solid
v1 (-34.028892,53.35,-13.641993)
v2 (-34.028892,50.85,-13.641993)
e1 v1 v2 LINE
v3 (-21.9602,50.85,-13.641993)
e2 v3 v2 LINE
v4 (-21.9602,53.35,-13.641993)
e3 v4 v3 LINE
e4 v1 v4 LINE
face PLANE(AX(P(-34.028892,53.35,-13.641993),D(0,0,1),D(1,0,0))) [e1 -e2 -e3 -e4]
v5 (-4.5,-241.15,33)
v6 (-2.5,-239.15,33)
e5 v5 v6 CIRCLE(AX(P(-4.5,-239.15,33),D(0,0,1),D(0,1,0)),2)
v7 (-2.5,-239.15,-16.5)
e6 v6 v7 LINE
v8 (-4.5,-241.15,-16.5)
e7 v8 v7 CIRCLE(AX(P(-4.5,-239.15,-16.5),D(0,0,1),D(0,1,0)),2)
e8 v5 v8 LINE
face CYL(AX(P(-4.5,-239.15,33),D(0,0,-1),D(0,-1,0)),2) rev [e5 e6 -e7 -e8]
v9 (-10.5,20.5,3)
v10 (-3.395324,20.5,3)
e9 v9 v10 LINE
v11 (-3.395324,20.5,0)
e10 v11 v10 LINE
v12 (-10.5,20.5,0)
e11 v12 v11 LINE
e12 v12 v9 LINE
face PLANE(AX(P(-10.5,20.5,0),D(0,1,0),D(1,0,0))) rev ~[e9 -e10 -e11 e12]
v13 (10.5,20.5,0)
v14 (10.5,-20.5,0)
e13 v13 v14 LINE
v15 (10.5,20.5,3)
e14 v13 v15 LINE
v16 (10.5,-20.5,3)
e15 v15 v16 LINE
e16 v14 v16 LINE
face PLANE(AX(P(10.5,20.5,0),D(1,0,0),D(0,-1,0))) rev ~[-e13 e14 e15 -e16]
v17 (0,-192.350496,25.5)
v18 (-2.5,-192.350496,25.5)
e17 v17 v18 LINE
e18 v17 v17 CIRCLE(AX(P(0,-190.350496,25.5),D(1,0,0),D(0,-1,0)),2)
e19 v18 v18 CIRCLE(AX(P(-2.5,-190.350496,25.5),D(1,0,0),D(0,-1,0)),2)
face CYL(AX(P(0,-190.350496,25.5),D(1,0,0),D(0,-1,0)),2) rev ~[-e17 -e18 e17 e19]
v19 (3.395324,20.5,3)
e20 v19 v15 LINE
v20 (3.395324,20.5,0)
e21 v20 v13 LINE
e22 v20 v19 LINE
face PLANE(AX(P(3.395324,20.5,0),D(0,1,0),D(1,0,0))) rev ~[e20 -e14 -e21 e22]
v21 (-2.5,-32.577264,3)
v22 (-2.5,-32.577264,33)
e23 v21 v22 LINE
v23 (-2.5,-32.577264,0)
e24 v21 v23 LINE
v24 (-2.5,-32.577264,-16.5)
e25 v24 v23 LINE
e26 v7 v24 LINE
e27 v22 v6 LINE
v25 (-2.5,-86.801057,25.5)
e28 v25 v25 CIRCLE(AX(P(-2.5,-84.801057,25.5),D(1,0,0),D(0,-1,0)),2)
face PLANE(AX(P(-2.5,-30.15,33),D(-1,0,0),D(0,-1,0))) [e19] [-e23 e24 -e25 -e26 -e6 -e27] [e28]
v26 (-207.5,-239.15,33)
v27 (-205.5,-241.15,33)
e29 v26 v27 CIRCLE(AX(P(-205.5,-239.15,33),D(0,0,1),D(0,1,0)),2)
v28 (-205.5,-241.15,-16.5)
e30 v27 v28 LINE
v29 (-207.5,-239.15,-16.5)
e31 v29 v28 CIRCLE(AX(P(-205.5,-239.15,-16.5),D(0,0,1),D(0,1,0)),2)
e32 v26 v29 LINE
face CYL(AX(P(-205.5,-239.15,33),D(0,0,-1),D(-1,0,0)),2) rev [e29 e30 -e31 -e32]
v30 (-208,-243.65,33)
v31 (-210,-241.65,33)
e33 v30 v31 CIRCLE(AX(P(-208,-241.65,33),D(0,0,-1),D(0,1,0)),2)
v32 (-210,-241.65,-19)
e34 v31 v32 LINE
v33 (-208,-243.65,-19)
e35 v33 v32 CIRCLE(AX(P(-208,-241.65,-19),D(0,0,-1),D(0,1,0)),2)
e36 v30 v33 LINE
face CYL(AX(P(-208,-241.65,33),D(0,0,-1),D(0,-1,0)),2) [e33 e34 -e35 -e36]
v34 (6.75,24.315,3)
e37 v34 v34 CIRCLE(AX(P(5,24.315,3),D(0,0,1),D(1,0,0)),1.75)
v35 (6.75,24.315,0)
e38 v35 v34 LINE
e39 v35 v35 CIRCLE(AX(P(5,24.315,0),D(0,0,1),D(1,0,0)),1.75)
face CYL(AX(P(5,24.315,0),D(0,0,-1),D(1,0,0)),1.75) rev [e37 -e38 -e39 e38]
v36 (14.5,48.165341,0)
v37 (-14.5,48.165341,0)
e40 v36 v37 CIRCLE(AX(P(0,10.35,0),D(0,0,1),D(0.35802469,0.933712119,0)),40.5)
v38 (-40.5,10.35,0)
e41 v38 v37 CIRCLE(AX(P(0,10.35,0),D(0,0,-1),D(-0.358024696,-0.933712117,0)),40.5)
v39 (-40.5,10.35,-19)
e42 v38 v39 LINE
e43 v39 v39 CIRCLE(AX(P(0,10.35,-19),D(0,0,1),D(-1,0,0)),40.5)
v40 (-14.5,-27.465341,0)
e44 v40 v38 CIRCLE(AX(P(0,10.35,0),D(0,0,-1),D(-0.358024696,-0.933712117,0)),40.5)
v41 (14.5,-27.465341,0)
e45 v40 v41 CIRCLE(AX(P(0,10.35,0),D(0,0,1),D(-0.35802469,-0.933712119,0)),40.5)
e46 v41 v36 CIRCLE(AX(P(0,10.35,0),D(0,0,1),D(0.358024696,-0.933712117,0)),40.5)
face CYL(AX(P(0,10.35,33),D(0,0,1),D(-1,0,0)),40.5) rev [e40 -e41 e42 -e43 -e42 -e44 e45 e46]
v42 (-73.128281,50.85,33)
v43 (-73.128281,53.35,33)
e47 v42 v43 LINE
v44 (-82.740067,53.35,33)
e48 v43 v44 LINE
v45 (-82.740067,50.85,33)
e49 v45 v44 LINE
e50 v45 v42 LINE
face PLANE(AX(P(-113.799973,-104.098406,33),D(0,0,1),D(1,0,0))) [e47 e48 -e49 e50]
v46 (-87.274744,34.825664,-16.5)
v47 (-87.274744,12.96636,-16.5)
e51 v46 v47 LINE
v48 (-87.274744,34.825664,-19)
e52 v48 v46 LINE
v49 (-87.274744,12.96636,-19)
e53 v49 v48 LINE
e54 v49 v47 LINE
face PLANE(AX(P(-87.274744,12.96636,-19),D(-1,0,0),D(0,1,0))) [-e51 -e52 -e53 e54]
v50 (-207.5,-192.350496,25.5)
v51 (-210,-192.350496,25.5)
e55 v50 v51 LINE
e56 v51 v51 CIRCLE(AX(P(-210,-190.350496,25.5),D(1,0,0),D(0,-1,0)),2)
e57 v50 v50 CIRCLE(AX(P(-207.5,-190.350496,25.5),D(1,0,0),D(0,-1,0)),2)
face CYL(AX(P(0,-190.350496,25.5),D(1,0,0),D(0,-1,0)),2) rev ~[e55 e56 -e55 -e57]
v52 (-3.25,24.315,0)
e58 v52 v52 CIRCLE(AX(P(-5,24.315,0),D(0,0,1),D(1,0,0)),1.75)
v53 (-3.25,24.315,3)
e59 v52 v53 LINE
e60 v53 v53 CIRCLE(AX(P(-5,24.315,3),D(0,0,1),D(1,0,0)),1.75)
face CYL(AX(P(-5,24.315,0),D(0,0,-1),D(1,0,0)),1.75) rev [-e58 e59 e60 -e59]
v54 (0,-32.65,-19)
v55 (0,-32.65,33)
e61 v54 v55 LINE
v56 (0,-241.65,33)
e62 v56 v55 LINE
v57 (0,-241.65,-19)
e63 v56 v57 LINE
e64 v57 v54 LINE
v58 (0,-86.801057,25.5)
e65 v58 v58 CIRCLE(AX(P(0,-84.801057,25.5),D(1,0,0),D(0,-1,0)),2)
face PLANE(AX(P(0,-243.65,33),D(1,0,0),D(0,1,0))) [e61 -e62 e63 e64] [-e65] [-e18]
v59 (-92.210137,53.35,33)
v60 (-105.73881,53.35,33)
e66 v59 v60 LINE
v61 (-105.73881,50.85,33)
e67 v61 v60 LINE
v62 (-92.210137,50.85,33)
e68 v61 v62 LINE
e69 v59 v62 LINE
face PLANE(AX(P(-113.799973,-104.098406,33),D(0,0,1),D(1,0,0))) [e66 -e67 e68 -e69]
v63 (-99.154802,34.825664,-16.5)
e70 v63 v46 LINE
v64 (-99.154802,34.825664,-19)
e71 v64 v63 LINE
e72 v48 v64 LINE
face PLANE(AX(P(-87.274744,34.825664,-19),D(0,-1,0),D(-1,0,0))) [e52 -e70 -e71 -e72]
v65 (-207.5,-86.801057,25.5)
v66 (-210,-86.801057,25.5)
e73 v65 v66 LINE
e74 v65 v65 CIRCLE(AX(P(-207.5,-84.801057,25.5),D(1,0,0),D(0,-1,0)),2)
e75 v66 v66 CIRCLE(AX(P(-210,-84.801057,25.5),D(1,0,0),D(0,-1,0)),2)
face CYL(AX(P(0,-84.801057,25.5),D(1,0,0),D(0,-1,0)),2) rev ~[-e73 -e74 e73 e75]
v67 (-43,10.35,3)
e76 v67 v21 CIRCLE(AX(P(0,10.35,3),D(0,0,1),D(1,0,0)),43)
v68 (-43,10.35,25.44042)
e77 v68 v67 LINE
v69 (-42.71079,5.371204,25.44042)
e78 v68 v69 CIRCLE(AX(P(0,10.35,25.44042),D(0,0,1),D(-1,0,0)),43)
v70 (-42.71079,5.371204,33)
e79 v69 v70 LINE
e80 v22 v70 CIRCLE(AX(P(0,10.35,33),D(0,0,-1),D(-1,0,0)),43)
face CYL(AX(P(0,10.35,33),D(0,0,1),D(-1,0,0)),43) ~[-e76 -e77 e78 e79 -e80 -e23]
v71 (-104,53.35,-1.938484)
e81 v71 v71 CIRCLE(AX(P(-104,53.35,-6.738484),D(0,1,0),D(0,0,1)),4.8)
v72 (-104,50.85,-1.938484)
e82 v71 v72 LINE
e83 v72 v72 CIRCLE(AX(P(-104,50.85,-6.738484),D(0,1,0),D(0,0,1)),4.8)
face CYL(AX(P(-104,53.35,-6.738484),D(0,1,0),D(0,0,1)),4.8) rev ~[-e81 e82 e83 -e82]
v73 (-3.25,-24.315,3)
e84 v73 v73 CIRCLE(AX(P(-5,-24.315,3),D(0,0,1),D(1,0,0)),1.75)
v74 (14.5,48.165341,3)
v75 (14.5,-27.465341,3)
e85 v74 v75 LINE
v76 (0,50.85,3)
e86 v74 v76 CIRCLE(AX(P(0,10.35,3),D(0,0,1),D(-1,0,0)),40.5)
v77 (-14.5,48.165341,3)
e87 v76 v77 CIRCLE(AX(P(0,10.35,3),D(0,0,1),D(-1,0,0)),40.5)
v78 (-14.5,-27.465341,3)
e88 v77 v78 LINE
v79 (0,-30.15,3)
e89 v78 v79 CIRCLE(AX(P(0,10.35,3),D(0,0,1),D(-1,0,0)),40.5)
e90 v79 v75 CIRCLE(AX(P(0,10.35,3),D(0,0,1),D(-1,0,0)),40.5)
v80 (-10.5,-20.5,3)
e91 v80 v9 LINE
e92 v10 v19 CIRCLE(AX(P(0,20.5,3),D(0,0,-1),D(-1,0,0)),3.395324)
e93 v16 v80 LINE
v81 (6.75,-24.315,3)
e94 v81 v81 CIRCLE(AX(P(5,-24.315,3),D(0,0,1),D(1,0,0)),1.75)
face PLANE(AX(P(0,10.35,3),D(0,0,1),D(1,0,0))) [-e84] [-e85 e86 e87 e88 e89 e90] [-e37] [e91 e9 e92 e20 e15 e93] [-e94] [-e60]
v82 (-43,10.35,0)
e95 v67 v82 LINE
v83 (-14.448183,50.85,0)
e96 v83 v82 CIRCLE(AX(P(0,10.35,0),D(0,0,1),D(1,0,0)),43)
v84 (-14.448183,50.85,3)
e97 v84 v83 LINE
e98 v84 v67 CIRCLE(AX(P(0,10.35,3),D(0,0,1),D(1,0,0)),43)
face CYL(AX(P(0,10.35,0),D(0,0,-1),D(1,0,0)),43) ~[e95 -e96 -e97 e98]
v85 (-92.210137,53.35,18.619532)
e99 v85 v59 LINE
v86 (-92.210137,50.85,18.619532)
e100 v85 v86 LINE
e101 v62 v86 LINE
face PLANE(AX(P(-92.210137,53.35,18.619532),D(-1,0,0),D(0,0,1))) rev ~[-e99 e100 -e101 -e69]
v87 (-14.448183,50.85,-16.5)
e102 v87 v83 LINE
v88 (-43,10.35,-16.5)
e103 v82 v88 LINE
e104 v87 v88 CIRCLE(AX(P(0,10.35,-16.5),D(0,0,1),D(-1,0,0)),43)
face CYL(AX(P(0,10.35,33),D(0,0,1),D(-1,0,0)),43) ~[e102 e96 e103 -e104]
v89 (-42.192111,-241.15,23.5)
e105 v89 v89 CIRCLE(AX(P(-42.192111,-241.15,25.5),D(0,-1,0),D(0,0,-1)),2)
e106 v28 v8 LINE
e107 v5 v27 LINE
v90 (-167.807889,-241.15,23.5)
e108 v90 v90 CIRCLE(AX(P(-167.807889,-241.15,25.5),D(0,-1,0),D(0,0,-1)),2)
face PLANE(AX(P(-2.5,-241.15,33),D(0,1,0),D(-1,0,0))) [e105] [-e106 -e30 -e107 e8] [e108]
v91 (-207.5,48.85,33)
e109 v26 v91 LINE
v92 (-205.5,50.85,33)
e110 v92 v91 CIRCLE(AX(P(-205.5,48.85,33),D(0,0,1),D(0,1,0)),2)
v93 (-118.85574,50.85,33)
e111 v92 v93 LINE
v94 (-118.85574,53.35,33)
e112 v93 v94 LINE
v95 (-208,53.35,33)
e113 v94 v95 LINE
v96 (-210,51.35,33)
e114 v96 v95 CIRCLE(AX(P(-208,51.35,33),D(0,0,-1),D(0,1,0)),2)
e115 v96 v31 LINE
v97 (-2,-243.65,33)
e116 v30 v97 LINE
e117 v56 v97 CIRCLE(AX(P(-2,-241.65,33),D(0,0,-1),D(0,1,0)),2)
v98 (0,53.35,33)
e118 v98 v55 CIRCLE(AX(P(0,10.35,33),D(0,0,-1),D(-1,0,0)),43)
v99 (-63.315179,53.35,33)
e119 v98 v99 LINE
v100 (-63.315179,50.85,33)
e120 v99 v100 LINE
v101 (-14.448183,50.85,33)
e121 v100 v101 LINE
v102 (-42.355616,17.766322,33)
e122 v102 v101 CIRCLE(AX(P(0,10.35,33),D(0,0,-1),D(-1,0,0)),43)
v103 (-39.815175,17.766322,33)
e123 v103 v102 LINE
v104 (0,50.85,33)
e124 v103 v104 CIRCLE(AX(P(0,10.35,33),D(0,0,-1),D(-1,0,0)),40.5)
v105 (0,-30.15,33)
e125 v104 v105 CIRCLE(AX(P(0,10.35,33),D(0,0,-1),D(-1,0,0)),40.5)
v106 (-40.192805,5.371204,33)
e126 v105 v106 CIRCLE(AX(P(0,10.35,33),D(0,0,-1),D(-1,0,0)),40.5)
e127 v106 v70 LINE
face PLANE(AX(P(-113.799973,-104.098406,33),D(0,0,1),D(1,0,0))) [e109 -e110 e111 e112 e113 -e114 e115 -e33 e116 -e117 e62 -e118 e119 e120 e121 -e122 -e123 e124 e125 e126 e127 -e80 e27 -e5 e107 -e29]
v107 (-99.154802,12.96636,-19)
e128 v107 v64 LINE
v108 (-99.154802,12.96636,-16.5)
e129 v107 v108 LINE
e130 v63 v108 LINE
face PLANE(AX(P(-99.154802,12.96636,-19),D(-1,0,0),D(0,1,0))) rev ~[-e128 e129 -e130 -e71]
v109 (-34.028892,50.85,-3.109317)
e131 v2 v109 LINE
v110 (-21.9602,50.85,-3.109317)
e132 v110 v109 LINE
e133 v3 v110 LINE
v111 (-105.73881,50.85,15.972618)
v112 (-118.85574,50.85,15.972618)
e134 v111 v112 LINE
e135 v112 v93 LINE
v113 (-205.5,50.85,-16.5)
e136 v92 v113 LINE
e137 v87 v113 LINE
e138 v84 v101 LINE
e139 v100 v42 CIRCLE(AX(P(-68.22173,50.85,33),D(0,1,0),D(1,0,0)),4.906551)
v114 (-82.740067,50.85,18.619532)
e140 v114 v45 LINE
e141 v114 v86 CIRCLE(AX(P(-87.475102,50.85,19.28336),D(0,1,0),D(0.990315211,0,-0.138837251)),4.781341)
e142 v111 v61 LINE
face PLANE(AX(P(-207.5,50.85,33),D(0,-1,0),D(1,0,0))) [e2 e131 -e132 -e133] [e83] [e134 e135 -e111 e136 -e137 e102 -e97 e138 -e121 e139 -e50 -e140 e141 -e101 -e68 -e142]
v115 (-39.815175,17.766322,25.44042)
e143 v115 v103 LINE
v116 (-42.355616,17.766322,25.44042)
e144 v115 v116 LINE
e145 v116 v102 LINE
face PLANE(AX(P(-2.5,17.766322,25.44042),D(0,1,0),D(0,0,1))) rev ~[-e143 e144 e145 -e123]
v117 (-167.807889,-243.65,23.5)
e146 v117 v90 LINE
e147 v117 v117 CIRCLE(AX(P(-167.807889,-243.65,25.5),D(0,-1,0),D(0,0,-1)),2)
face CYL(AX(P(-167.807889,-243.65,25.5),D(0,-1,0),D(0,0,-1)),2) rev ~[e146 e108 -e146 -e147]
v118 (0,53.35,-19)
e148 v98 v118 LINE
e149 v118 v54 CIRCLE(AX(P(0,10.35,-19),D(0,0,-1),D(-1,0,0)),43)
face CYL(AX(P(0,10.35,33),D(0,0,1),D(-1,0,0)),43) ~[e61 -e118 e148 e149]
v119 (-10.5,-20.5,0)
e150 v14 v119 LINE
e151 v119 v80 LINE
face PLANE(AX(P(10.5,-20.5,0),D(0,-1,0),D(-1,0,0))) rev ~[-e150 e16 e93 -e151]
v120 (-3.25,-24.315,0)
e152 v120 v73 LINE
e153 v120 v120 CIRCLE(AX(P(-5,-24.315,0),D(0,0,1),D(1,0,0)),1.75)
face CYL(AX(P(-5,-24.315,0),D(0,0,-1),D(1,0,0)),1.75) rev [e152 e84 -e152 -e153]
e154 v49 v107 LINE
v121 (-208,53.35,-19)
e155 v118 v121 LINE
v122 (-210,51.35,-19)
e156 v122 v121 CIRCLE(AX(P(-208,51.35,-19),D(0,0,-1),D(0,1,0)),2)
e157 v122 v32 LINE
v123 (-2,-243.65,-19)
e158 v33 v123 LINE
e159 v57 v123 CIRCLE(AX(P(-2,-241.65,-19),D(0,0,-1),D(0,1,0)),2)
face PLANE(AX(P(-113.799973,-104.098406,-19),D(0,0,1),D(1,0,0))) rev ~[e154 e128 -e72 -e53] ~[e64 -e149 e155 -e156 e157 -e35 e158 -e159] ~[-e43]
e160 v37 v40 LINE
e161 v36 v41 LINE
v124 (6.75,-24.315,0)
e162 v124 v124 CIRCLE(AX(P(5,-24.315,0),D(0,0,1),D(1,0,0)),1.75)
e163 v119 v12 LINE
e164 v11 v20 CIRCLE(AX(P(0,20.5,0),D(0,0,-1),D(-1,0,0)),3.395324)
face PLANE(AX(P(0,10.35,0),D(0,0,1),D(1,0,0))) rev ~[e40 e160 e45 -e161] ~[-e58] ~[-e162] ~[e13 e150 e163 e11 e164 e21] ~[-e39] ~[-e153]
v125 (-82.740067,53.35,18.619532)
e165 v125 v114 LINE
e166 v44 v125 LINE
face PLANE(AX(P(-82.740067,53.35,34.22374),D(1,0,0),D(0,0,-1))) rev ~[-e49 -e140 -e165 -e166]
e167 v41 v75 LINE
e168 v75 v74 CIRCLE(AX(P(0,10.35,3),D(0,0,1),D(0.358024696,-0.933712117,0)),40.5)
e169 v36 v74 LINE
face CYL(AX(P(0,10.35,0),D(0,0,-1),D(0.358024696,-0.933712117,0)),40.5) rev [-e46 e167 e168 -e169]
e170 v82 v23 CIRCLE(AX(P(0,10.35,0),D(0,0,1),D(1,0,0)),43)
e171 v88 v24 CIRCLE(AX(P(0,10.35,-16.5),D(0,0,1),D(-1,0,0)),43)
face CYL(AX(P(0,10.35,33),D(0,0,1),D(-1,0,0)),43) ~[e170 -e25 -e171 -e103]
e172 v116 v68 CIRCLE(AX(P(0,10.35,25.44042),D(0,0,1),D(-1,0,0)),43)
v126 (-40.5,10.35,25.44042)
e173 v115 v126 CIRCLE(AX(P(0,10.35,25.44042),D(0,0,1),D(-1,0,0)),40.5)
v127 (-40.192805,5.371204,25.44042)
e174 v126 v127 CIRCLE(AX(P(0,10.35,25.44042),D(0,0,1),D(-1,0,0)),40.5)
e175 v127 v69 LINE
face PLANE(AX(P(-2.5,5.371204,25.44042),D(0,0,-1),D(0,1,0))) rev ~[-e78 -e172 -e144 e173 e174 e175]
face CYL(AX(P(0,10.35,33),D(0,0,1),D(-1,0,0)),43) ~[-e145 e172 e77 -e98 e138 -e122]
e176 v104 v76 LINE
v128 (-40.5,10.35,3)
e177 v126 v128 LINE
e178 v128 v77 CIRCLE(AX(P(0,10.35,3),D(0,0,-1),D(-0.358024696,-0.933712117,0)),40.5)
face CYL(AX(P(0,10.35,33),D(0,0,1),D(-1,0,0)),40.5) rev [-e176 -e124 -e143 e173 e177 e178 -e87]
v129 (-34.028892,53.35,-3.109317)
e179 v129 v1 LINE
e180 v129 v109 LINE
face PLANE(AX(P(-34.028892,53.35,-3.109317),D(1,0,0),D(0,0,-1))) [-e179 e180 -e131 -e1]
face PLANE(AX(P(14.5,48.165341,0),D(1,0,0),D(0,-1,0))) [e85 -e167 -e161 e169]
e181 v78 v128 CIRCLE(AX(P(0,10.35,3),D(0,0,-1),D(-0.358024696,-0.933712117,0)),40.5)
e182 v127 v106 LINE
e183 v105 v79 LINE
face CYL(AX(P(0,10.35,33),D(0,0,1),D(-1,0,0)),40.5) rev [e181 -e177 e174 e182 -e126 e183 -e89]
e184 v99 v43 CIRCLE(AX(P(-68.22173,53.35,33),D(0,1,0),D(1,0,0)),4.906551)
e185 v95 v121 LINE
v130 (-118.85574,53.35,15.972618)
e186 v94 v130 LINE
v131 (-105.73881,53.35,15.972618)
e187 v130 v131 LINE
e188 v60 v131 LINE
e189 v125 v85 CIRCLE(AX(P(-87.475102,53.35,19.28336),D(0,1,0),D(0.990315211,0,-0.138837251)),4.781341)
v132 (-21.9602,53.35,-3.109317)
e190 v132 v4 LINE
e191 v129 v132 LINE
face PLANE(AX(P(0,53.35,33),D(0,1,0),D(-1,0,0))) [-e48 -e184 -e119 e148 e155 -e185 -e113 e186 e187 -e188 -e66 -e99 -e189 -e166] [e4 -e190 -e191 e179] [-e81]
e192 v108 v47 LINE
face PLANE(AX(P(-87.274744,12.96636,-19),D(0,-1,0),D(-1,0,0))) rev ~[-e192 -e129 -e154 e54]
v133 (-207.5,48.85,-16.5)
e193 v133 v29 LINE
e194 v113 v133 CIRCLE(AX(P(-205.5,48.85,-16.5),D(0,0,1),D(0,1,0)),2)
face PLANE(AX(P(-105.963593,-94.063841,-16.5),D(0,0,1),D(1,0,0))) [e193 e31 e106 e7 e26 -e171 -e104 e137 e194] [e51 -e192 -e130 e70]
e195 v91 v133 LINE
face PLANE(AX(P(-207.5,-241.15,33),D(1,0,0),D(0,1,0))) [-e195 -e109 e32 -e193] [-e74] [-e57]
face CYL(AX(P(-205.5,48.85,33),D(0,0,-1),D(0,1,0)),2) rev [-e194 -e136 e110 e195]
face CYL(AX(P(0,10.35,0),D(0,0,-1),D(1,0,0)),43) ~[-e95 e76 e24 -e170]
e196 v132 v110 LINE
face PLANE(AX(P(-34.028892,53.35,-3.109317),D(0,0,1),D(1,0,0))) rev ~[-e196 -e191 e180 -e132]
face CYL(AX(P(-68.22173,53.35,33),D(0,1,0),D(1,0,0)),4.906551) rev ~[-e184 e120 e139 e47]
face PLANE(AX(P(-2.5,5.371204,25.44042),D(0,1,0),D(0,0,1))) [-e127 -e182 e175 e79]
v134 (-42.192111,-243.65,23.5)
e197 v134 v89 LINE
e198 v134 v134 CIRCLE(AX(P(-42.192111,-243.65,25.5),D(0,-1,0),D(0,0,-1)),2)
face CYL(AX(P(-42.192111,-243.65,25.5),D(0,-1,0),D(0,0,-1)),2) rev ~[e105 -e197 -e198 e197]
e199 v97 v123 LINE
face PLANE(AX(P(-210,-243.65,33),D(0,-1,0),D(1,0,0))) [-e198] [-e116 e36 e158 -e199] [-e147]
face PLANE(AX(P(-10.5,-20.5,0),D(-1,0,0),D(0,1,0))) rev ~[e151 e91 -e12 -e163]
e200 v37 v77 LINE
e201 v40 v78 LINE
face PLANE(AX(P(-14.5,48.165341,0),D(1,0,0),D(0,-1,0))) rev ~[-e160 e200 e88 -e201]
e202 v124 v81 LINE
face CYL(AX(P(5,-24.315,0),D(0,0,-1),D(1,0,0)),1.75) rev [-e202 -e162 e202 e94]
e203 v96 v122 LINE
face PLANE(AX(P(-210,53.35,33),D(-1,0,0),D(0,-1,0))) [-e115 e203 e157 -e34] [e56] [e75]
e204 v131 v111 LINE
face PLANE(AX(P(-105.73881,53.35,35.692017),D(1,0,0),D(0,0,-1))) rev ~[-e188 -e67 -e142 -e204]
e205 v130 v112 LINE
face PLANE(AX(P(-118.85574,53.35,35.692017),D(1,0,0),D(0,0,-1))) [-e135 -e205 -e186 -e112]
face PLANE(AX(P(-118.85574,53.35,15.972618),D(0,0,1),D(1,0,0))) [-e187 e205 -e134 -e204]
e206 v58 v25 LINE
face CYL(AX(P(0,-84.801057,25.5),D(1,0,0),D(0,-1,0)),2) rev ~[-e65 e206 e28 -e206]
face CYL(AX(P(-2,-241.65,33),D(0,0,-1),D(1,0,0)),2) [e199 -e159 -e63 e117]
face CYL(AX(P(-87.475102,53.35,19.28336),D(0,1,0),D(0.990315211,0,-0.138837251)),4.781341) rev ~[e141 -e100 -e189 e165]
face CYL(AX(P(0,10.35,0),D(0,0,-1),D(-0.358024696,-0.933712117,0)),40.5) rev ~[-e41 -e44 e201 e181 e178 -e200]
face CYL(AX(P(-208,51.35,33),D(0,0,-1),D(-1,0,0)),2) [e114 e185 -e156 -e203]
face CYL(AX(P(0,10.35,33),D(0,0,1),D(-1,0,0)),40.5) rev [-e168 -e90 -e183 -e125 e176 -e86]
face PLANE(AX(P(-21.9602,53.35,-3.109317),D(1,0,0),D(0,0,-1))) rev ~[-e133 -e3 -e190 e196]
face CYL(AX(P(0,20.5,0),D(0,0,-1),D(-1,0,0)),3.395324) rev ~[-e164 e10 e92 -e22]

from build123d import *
from build123d.topology import SkipClean

# Parameters (mm, degrees)
SKETCH_1_R             = 43
SKETCH_1_R_2           = 1.75
EXTRUDE_1_DEPTH        = 3
EXTRUDE_1_2_DEPTH      = 19
EXTRUDE_1_2_DEPTH_BACK = 33
SKETCH_3_R             = 43
SKETCH_3_R_2           = 40.5
EXTRUDE_START          = -52
EXTRUDE_2_DEPTH        = 52
EXTRUDE_2_2_DEPTH      = 2.5
FILLET_1_R             = 2
SKETCH_6_W             = 12.068691
SKETCH_6_H             = 10.532676
CUT_EXTRUDE_1_DEPTH    = 3
SKETCH_7_R             = 2
CUT_EXTRUDE_2_DEPTH    = 283
SKETCH_8_R             = 2
CUT_EXTRUDE_3_DEPTH    = 10
SKETCH_9_W             = 13.11693
SKETCH_9_H             = 19.719399
CUT_EXTRUDE_4_DEPTH    = 10
SKETCH_10_W            = 7.55958
SKETCH_10_H            = 12.395118
CUT_EXTRUDE_5_DEPTH    = 61
SKETCH_11_W            = 11.880057
SKETCH_11_H            = 21.859304
CUT_EXTRUDE_6_DEPTH    = 61
SKETCH_12_R            = 4.8
CUT_EXTRUDE_7_DEPTH    = 10
SKETCH_13_R            = 4.906551
CUT_EXTRUDE_8_DEPTH    = 10


with BuildPart() as part:
    # 草图1 → Extrude 1 (new body)
    with BuildSketch(Plane.XY):
        with Locations((0, 10.35)):
            Circle(SKETCH_1_R)
        with Locations((-5, 24.315)):
            Circle(SKETCH_1_R_2, mode=Mode.SUBTRACT)
        with Locations((5, 24.315)):
            Circle(SKETCH_1_R_2, mode=Mode.SUBTRACT)
        with Locations((-5, -24.315)):
            Circle(SKETCH_1_R_2, mode=Mode.SUBTRACT)
        with Locations((5, -24.315)):
            Circle(SKETCH_1_R_2, mode=Mode.SUBTRACT)
        with BuildLine():
            Line((3.395324, 20.5), (10.5, 20.5))
            Line((10.5, 20.5), (10.5, -20.5))
            Line((10.5, -20.5), (-10.5, -20.5))
            Line((-10.5, -20.5), (-10.5, 20.5))
            Line((-10.5, 20.5), (-3.395324, 20.5))
            ThreePointArc((-3.395324, 20.5), (0, 23.895324), (3.395324, 20.5))
        make_face(mode=Mode.SUBTRACT)
        with BuildLine():
            Line((-14.5, 48.165341), (-14.5, -27.465341))
            ThreePointArc((-14.5, -27.465341), (-40.5, 10.35), (-14.5, 48.165341))
        make_face(mode=Mode.SUBTRACT)
        with BuildLine():
            Line((14.5, 48.165341), (14.5, -27.465341))
            ThreePointArc((14.5, -27.465341), (40.5, 10.35), (14.5, 48.165341))
        make_face(mode=Mode.SUBTRACT)
    extrude(amount=EXTRUDE_1_DEPTH)

    # 草图3 → Extrude 1 2 (add, two sides: drawn at the far end of the back side and taken through both)
    with SkipClean():  # the faces are left unmerged after this step: merging them gives an invalid solid
        with BuildSketch(Plane(origin=(0, 0, 0), x_dir=(-1, 0, 0), z_dir=(0, 0, -1)).offset(-EXTRUDE_1_2_DEPTH_BACK)):
            with Locations((0, 10.35)):
                Circle(SKETCH_3_R)
            with Locations((0, 10.35)):
                Circle(SKETCH_3_R_2, mode=Mode.SUBTRACT)
        extrude(amount=EXTRUDE_1_2_DEPTH + EXTRUDE_1_2_DEPTH_BACK)

    # 草图4 → Extrude 2 (add)
    with SkipClean():  # the faces are left unmerged after this step: merging them gives an invalid solid
        with BuildSketch(Plane(origin=(0, 0, -19), x_dir=(-1, 0, 0), z_dir=(0, 0, -1)).offset(EXTRUDE_START)):
            Polygon((0, 53.35), (210, 53.35), (210, -243.65), (0, -243.65), (0, -30.15), (2.5, -30.15), (2.5, -241.15), (207.5, -241.15), (207.5, 50.85), (0, 50.85), align=None)
        extrude(amount=EXTRUDE_2_DEPTH)

    # 草图5 → Extrude 2 2 (add)
    with SkipClean():  # the faces are left unmerged after this step: merging them gives an invalid solid
        with BuildSketch(Plane(origin=(0, 0, -19), x_dir=(-1, 0, 0), z_dir=(0, 0, -1))):
            with BuildLine():
                Line((2.5, -241.15), (2.5, -32.577264))
                ThreePointArc((2.5, -32.577264), (42.565682, 4.25388), (14.448183, 50.85))
                Line((14.448183, 50.85), (207.5, 50.85))
                Line((207.5, 50.85), (207.5, -241.15))
                Line((207.5, -241.15), (2.5, -241.15))
            make_face()
        extrude(amount=-EXTRUDE_2_2_DEPTH)

    # 圆角1
    fillet_1_edges = [part.edges().sort_by_distance(p)[0] for p in [
        (-207.5, 50.85, 8.25),
        (0, -243.65, 7),
        (-207.5, -241.15, 8.25),
        (-2.5, -241.15, 8.25),
        (-210, -243.65, 7),
        (-210, 53.35, 7),
    ]]
    fillet(fillet_1_edges, radius=FILLET_1_R)

    # 草图6 → 切除-拉伸1 (cut)
    with BuildSketch(Plane(origin=(0, 53.35, 0), x_dir=(1, 0, 0), z_dir=(0, 1, 0))):
        with Locations((-27.994546, 8.375655)):
            Rectangle(SKETCH_6_W, SKETCH_6_H)
    extrude(amount=-CUT_EXTRUDE_1_DEPTH, mode=Mode.SUBTRACT)

    # 草图7 → 切除-拉伸2 (cut)
    with BuildSketch(Plane(origin=(0, 0, 0), x_dir=(0, 0, -1), z_dir=(1, 0, 0))):
        with Locations(Location((-25.5, -84.801057, 0), (0, 0, 270))):
            Circle(SKETCH_7_R)
        with Locations(Location((-25.5, -190.350496, 0), (0, 0, 270))):
            Circle(SKETCH_7_R)
    extrude(amount=-CUT_EXTRUDE_2_DEPTH, mode=Mode.SUBTRACT)

    # 草图8 → 切除-拉伸3 (cut)
    with BuildSketch(Plane.XZ.offset(243.65)):
        with Locations(Location((-167.807889, 25.5, 0), (0, 0, 270))):
            Circle(SKETCH_8_R)
        with Locations(Location((-42.192111, 25.5, 0), (0, 0, 270))):
            Circle(SKETCH_8_R)
    extrude(amount=-CUT_EXTRUDE_3_DEPTH, mode=Mode.SUBTRACT)

    # 草图9 → 切除-拉伸4 (cut)
    with BuildSketch(Plane(origin=(0, 53.35, 0), x_dir=(1, 0, 0), z_dir=(0, 1, 0))):
        with Locations((-112.297275, -25.832317)):
            Rectangle(SKETCH_9_W, SKETCH_9_H)
        with BuildLine():
            Line((-92.210137, -34.22374), (-82.740067, -34.22374))
            Line((-82.740067, -34.22374), (-82.740067, -18.619532))
            ThreePointArc((-82.740067, -18.619532), (-87.475102, -14.502019), (-92.210137, -18.619532))
            Line((-92.210137, -18.619532), (-92.210137, -34.22374))
        make_face()
    extrude(amount=-CUT_EXTRUDE_4_DEPTH, mode=Mode.SUBTRACT)

    # 草图10 → 切除-拉伸5 (cut)
    with BuildSketch(Plane.ZY.offset(2.5)):
        with Locations((29.22021, 11.568763)):
            Rectangle(SKETCH_10_W, SKETCH_10_H)
    extrude(amount=CUT_EXTRUDE_5_DEPTH, mode=Mode.SUBTRACT)

    # 草图11 → 切除-拉伸6 (cut)
    with BuildSketch(Plane(origin=(0, 0, -19), x_dir=(-1, 0, 0), z_dir=(0, 0, -1))):
        with Locations((93.214773, 23.896012)):
            Rectangle(SKETCH_11_W, SKETCH_11_H)
    extrude(amount=-CUT_EXTRUDE_6_DEPTH, mode=Mode.SUBTRACT)

    # 草图12 → 切除-拉伸7 (cut)
    with BuildSketch(Plane(origin=(0, 53.35, 0), x_dir=(1, 0, 0), z_dir=(0, 1, 0))):
        with Locations(Location((-104, 6.738484, 0), (0, 0, 270))):
            Circle(SKETCH_12_R)
    extrude(amount=-CUT_EXTRUDE_7_DEPTH, mode=Mode.SUBTRACT)

    # 草图13 → 切除-拉伸8 (cut)
    with BuildSketch(Plane(origin=(0, 53.35, 0), x_dir=(1, 0, 0), z_dir=(0, 1, 0))):
        with Locations((-68.22173, -33)):
            Circle(SKETCH_13_R)
    extrude(amount=-CUT_EXTRUDE_8_DEPTH, mode=Mode.SUBTRACT)


solid = part.part
